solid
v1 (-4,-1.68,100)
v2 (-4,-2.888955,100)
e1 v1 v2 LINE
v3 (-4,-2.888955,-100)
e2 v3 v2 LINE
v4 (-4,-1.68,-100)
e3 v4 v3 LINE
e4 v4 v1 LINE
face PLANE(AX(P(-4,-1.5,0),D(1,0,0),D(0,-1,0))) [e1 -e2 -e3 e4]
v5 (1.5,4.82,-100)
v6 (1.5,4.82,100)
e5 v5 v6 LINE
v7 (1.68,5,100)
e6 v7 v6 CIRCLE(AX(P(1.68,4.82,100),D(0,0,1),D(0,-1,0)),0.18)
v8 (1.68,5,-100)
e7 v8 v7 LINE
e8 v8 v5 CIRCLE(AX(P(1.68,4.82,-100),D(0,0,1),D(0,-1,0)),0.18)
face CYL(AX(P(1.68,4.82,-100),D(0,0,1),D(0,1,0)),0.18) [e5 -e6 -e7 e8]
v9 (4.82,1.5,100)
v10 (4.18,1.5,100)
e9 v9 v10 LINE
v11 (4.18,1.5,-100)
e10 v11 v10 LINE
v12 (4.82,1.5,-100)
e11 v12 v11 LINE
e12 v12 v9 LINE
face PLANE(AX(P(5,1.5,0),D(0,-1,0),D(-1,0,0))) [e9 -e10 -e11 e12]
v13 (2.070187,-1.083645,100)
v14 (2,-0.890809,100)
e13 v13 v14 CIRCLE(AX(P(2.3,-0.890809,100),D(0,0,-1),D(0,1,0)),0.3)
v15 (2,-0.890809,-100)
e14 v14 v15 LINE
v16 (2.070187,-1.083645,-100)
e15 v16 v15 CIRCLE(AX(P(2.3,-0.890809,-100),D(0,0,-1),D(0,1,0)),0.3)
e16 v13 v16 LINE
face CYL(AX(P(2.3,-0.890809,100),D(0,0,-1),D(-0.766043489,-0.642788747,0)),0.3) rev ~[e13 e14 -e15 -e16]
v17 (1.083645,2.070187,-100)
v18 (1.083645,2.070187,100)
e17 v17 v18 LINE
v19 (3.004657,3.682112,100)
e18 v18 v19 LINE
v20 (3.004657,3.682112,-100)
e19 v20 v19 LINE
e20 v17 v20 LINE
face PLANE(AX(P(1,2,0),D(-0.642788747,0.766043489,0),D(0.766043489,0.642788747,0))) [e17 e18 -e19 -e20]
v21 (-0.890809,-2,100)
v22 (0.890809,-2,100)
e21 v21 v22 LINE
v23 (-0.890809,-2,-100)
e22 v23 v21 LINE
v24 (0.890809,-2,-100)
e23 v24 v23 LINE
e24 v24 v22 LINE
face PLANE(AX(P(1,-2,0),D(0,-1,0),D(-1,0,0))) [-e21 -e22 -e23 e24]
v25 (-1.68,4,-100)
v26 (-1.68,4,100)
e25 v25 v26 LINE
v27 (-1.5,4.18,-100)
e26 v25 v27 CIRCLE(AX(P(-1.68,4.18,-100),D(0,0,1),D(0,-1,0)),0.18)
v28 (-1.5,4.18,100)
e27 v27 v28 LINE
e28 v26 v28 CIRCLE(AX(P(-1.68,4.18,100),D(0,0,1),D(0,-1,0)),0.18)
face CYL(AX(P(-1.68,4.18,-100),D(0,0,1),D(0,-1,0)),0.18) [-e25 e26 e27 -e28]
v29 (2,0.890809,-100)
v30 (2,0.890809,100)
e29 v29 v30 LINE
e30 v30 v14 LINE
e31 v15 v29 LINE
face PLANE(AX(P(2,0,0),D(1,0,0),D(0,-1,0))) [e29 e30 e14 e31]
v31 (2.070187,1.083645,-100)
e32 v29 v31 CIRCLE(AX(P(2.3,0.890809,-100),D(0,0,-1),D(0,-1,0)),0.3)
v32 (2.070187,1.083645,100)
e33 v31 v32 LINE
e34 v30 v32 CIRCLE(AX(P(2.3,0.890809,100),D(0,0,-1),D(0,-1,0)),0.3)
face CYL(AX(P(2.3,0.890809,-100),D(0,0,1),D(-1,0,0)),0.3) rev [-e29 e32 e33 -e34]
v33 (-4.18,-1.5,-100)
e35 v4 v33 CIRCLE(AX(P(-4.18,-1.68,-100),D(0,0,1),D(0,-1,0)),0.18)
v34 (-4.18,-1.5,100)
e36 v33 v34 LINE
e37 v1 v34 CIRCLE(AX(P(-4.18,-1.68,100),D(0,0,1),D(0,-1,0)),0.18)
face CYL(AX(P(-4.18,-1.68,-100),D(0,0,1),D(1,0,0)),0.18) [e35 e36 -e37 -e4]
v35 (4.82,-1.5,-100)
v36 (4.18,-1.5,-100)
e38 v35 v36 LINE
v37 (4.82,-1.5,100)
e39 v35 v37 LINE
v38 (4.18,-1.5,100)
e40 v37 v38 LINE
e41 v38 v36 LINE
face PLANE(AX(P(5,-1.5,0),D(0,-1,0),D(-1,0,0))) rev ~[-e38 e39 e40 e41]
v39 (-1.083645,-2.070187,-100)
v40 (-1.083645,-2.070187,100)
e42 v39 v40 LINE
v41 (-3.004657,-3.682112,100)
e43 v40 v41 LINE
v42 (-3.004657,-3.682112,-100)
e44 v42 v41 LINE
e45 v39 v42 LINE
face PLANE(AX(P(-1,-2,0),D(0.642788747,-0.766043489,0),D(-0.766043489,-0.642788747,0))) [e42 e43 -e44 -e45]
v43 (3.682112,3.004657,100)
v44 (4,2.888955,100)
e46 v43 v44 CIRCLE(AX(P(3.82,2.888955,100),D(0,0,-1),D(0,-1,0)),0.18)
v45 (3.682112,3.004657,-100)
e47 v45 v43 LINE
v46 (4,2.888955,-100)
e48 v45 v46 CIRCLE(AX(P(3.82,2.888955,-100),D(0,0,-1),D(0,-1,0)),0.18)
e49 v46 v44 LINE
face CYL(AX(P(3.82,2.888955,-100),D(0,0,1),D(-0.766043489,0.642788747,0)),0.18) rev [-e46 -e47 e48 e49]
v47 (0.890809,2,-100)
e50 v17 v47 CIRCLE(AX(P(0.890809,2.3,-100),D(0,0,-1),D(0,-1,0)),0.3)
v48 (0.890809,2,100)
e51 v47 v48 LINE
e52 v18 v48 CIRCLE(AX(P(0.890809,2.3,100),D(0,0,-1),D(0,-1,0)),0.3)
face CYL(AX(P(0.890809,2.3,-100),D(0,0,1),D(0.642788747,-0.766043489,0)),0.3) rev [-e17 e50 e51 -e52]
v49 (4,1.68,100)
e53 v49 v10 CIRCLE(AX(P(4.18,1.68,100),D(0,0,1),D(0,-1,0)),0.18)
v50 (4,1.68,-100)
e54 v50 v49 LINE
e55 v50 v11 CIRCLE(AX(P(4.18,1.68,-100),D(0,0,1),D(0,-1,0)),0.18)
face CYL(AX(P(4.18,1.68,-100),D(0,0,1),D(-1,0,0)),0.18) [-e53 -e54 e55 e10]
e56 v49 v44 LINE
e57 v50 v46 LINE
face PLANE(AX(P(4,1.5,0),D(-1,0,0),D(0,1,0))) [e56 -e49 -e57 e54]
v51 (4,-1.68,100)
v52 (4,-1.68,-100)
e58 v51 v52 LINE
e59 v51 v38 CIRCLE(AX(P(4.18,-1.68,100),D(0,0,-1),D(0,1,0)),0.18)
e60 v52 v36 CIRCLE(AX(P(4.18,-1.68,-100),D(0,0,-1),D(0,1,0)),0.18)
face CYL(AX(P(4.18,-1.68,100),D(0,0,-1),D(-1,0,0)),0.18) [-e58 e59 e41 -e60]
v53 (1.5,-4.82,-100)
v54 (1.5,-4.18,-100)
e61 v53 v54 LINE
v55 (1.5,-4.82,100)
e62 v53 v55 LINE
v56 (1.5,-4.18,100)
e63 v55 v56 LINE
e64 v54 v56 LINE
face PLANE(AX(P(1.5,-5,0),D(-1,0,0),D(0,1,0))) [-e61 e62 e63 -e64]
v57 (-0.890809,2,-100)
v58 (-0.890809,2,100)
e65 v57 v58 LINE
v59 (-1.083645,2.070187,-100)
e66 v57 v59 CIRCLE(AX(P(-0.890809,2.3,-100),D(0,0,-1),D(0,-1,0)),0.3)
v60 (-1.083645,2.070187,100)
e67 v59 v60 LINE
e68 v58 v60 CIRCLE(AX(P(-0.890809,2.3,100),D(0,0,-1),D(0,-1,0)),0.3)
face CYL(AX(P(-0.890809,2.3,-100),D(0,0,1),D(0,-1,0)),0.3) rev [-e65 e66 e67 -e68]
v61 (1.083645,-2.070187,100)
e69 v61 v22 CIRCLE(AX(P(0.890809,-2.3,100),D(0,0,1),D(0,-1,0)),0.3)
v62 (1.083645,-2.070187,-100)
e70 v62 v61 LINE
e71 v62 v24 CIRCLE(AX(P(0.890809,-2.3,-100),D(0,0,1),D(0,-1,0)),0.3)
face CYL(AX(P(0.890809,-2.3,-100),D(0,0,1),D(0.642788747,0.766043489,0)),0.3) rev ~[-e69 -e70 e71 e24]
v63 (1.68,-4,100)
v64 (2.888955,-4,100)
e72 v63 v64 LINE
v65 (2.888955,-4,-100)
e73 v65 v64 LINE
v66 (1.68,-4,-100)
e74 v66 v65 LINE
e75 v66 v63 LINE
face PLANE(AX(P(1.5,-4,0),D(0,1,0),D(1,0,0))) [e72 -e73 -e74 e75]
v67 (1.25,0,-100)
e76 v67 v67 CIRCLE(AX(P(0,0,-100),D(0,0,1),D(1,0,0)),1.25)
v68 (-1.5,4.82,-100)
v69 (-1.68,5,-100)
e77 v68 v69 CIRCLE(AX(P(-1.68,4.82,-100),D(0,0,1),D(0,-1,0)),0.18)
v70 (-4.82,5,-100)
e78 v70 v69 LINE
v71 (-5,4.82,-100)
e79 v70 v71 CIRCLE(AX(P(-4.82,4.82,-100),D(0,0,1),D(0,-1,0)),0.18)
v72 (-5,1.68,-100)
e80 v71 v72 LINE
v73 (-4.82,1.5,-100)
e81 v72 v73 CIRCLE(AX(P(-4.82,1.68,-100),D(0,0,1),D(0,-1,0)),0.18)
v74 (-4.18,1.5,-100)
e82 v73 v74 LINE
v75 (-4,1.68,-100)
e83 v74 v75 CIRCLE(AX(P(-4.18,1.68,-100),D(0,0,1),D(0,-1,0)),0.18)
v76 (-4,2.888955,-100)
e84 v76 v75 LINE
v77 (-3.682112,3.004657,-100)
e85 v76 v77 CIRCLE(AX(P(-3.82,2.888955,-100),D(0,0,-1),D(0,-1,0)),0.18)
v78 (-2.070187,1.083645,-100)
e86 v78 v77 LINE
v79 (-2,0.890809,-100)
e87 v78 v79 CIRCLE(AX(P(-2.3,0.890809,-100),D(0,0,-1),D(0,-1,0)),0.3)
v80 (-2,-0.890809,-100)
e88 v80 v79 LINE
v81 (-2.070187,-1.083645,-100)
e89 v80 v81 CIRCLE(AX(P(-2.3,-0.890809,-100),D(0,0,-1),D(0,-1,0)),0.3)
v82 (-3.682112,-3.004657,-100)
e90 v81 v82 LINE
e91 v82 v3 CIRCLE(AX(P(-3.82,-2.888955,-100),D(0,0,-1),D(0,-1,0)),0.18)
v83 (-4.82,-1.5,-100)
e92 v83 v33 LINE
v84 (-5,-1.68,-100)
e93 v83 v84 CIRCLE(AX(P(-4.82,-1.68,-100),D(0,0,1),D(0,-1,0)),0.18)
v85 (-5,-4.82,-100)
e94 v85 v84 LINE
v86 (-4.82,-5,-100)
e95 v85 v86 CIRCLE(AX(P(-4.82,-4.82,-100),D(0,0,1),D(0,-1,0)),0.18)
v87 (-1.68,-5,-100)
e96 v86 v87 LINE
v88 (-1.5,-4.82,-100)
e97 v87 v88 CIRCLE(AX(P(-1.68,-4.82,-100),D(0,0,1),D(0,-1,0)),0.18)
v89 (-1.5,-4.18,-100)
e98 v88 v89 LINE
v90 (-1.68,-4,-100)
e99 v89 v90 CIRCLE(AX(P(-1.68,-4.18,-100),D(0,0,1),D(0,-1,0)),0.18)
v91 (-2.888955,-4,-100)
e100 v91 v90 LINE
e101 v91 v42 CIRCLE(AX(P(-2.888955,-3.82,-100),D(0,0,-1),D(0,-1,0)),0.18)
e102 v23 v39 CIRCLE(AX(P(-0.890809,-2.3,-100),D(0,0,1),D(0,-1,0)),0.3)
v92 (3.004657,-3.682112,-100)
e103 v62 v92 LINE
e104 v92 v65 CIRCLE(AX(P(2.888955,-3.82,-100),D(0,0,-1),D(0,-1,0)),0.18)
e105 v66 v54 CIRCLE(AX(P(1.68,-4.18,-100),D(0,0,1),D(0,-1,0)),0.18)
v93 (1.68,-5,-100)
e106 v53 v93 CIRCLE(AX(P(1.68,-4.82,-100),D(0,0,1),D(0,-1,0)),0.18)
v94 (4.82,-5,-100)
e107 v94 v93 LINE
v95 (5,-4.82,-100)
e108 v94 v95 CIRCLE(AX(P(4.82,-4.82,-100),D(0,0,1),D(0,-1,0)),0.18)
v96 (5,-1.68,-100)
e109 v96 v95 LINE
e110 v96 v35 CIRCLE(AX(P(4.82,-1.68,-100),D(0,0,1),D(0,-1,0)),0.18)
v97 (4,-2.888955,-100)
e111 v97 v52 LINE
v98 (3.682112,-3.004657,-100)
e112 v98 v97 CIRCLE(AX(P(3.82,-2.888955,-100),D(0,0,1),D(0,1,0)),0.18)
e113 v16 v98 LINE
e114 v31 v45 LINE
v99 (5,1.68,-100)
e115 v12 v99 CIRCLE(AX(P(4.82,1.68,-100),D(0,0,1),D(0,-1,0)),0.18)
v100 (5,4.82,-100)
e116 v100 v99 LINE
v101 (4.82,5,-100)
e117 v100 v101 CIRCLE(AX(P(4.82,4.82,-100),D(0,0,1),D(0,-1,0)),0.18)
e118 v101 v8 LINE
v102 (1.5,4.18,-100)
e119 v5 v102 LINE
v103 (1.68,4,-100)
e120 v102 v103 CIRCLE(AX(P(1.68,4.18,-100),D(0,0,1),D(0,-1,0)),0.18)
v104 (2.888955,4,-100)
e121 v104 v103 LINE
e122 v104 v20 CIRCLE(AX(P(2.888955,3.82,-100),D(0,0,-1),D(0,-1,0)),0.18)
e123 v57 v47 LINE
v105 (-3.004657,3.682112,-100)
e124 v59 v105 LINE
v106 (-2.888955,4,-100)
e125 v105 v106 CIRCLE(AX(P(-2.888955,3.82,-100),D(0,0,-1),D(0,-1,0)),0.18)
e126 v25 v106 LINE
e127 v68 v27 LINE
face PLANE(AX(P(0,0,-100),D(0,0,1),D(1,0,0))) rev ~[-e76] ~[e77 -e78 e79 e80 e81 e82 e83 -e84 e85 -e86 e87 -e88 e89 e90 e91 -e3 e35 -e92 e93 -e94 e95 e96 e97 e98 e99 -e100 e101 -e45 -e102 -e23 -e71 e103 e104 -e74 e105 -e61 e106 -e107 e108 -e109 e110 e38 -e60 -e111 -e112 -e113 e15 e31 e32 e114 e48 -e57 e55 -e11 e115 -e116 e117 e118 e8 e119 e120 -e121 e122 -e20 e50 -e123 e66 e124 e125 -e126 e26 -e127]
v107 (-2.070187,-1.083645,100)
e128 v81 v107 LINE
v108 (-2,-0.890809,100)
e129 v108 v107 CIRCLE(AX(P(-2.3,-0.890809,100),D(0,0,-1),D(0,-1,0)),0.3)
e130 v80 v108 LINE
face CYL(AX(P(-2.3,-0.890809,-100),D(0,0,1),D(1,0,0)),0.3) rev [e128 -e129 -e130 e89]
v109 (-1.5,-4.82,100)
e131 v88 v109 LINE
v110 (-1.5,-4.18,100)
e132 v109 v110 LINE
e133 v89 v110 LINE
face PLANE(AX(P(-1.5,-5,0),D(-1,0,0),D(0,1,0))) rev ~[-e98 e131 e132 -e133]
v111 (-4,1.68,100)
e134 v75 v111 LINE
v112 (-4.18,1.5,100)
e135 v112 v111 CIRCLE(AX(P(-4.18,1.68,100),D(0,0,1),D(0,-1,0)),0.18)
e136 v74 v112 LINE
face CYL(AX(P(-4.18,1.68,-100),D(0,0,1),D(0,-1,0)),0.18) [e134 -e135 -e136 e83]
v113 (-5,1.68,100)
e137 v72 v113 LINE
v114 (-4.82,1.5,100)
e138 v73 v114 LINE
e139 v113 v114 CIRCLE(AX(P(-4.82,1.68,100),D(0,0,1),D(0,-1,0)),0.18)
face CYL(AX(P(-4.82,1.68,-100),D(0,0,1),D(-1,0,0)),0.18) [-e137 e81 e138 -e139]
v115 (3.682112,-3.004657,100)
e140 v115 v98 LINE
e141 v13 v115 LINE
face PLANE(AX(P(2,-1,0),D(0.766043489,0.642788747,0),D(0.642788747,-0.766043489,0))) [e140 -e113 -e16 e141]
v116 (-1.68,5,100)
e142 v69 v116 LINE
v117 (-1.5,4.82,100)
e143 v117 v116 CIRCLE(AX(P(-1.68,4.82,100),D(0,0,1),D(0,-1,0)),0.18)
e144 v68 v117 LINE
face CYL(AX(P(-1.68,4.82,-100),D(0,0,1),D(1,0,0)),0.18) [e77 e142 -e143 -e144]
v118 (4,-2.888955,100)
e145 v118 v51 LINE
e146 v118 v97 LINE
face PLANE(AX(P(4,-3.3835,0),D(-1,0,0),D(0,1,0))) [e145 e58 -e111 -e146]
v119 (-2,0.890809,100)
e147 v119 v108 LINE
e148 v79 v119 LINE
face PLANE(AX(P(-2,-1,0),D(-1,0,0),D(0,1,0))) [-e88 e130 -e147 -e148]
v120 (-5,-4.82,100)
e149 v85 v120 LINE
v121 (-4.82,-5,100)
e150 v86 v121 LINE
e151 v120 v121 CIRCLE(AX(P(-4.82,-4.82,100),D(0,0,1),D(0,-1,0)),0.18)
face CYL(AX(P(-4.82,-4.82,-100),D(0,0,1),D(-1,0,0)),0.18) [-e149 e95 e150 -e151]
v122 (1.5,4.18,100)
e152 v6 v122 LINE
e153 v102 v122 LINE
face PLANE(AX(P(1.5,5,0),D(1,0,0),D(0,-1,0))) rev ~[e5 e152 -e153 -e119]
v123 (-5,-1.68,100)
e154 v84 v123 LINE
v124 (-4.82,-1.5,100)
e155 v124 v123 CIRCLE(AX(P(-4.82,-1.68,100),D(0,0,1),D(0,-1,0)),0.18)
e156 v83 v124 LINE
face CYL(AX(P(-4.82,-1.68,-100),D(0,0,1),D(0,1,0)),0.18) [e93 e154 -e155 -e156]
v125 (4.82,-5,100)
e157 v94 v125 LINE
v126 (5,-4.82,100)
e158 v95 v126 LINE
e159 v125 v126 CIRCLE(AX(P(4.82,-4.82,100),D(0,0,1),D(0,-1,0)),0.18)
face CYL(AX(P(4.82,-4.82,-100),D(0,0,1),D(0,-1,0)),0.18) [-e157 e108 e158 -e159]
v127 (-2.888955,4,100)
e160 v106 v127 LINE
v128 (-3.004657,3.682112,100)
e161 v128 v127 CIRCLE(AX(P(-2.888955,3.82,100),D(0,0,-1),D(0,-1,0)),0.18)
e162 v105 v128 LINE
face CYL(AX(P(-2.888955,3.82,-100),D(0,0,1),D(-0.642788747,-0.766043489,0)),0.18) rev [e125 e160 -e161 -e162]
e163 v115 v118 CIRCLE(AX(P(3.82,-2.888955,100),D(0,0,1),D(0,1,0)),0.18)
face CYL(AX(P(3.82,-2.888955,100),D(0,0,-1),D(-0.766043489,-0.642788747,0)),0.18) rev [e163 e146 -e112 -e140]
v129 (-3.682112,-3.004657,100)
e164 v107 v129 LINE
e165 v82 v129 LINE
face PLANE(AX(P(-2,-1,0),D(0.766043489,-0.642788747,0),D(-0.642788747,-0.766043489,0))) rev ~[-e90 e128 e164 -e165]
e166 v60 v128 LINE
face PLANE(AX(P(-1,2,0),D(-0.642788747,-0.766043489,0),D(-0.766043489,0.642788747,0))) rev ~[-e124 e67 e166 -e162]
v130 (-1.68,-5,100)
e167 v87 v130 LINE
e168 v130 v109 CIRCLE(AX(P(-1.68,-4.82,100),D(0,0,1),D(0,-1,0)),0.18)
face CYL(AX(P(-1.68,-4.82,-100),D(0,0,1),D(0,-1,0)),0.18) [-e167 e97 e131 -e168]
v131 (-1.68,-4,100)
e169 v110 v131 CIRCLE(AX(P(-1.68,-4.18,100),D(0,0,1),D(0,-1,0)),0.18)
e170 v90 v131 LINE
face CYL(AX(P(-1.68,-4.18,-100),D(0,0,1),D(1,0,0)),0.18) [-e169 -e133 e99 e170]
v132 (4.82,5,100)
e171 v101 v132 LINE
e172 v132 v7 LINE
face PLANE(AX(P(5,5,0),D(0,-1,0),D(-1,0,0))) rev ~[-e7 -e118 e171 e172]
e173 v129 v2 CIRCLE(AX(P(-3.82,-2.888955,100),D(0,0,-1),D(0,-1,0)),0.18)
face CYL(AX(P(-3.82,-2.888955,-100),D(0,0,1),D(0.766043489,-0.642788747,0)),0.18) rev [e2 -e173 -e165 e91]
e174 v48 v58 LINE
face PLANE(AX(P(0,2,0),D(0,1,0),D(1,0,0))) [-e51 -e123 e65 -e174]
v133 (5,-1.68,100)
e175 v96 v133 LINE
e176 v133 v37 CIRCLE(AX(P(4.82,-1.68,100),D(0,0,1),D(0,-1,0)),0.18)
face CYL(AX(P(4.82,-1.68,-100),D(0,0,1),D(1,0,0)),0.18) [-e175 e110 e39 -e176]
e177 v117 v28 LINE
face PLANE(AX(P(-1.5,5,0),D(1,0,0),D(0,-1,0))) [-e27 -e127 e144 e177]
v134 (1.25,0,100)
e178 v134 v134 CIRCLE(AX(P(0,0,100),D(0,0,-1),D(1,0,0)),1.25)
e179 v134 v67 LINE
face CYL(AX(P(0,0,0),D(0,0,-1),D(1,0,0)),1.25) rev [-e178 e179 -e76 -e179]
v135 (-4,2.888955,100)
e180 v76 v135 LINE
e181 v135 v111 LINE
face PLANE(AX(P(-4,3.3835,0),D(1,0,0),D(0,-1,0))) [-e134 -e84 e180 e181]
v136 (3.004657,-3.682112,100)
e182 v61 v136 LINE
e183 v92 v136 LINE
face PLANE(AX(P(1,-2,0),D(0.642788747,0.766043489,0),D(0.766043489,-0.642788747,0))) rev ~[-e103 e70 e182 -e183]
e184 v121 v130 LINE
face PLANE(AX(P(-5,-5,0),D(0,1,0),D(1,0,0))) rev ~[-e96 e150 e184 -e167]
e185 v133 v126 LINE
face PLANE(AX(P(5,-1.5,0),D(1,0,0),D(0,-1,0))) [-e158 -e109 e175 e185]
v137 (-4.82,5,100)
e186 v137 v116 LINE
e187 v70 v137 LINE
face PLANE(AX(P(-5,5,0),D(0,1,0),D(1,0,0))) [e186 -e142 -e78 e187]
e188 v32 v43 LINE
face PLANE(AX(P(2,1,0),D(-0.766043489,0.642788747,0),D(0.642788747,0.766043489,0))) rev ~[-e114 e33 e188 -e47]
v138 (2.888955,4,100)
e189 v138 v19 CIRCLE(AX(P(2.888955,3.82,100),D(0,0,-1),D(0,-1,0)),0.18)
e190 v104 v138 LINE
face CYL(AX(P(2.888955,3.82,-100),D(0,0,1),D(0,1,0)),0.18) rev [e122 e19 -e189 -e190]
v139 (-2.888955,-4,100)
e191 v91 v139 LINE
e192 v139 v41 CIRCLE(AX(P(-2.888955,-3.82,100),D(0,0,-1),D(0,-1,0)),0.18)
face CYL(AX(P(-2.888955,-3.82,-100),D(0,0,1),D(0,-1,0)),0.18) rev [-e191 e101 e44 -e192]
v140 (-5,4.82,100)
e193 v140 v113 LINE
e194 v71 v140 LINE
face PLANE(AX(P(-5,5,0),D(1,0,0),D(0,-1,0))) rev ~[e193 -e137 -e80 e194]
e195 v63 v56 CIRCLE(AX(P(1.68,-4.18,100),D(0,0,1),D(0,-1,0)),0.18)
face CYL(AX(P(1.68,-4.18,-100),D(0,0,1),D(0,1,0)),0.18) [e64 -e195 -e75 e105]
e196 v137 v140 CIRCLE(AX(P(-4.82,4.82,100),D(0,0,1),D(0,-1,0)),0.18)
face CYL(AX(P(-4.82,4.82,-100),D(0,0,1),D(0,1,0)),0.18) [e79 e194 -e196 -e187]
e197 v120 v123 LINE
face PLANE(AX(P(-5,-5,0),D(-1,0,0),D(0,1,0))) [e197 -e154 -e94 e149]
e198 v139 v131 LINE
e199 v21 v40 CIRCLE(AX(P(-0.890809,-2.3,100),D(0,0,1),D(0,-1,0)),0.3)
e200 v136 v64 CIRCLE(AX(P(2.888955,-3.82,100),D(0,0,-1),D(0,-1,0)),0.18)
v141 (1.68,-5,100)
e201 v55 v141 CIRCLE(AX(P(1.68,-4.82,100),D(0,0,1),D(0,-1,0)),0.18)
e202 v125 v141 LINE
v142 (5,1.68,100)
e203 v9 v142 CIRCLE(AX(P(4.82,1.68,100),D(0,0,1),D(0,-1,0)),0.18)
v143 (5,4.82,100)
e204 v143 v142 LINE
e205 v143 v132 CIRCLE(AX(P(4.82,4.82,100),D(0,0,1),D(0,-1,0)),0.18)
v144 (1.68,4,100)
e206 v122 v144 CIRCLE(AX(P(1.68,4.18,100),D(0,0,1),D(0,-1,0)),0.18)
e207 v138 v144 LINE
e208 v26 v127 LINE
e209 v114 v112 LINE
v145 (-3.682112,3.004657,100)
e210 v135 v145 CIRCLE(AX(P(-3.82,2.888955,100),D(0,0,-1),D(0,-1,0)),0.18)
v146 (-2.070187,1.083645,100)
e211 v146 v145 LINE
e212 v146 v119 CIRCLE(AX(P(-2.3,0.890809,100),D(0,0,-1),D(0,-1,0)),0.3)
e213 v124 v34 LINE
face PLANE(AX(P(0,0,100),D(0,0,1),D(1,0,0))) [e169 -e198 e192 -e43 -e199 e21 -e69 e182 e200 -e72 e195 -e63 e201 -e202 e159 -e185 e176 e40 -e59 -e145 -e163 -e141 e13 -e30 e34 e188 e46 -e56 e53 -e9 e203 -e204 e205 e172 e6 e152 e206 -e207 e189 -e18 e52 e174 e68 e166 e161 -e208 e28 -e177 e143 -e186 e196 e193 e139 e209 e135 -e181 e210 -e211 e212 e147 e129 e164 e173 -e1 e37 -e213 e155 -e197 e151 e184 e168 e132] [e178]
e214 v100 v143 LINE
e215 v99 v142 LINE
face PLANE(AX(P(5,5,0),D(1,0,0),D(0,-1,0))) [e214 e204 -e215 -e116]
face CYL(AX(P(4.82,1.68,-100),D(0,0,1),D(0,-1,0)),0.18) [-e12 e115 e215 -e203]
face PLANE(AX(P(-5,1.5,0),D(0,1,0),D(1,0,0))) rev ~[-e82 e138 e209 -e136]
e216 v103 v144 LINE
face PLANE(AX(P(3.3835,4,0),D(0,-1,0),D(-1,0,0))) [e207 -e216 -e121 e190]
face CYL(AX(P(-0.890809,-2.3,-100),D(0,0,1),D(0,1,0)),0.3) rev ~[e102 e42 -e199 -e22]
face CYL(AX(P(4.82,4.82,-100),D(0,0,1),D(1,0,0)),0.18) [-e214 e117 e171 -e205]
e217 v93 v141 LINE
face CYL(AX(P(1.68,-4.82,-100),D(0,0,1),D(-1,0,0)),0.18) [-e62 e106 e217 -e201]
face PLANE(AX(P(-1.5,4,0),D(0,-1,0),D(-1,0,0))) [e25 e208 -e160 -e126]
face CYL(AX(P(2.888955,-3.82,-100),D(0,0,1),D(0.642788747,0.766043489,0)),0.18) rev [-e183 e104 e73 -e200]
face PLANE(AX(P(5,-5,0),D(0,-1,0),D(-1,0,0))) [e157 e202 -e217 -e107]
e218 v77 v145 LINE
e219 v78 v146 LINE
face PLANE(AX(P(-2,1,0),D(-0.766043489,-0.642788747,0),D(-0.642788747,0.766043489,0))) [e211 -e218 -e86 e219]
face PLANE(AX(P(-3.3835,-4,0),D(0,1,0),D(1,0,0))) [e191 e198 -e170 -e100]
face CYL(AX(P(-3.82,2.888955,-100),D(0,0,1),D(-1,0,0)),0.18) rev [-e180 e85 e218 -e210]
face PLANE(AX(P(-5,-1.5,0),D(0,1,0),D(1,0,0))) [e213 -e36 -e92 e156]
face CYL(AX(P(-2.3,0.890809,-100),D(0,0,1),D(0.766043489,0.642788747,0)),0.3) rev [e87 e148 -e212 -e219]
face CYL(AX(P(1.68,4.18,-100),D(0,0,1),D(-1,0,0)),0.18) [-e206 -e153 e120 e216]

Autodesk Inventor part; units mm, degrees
ref_plane "YZ Plane" through (0, 0, 0) normal (1, 0, 0) x (0, 1, 0)
ref_plane "XZ Plane" through (0, 0, 0) normal (0, 1, 0) x (-1, 0, 0)
ref_plane "XY Plane" through (0, 0, 0) normal (0, 0, 1) x (1, 0, 0)
sketch "Sketch1" plane through (0, 0, 0) normal (0, 0, 1) x (1, 0, 0)
  circle A0 centre (0, 0) radius 1.25
  line L0 (0, -7) -> (0, 7) projected
  line L1 (-7.0223, 0) -> (7.1337, 0) projected
  line L2 (5, 5) -> (1.5, 5)
  line L3 (1.5, 5) -> (1.5, 4)
  line L4 (5, 5) -> (5, 1.5)
  line L5 (-1, 2) -> (1, 2)
  line L6 (2, 1) -> (2, -1)
  line L7 (1, -2) -> (-1, -2)
  line L8 (-2, -1) -> (-2, 1)
  line L9 (1, 2) -> (3.3835, 4)
  line L10 (2, 2) -> (4.1114, 2) construction
  line L11 (3.3835, 4) -> (1.5, 4)
  line L12 (2, 1) -> (4, 3.3835)
  line L13 (2, 1) -> (5.1114, 1) construction
  line L14 (5, 1.5) -> (4, 1.5)
  line L15 (4, 1.5) -> (4, 3.3835)
  line L16 (5, 5) -> (5, 1.5)
  line L17 (-5, 5) -> (-1.5, 5)
  line L18 (1.5, 5) -> (5, 5)
  line L19 (5, 5) -> (5, 1.5)
  line L20 (5, 0) -> (5, -5)
  line L21 (-2, 1) -> (-4, 3.3835)
  line L22 (-4, 3.3835) -> (-4, 1.5)
  line L23 (-5, 1.5) -> (-4, 1.5)
  line L24 (-5, 5) -> (-5, 1.5)
  line L25 (-5, 5) -> (-1.5, 5)
  line L26 (-1.5, 5) -> (-1.5, 4)
  line L27 (-1.5, 4) -> (-3.3835, 4)
  line L28 (-1, 2) -> (-3.3835, 4)
  line L29 (-1, -2) -> (-3.3835, -4)
  line L30 (-3.3835, -4) -> (-1.5, -4)
  line L31 (-1.5, -5) -> (-1.5, -4)
  line L32 (-5, -5) -> (-1.5, -5)
  line L33 (-5, -5) -> (-5, -1.5)
  line L34 (-5, -1.5) -> (-4, -1.5)
  line L35 (-4, -1.5) -> (-4, -3.3835)
  line L36 (-2, -1) -> (-4, -3.3835)
  line L37 (2, -1) -> (4, -3.3835)
  line L38 (4, -3.3835) -> (4, -1.5)
  line L39 (5, -1.5) -> (4, -1.5)
  line L40 (5, -5) -> (5, -1.5)
  line L41 (5, -5) -> (1.5, -5)
  line L42 (1.5, -5) -> (1.5, -4)
  line L43 (1.5, -4) -> (3.3835, -4)
  line L44 (1, -2) -> (3.3835, -4)
  line L45 (-5, -5) -> (-5, -1.5)
  line L46 (-5, 1.5) -> (-5, 5)
  line L47 (5, -5) -> (1.5, -5)
  line L48 (-1.5, -5) -> (-5, -5)
  dimension "d0" = 2.5
  dimension "d3" = 3.5
  dimension "d4" = 1
  dimension "d5" = 90
  dimension "d6" = 3.5
  dimension "d10" = 2
  dimension "d11" = 40
  dimension "d13" = 50
  dimension "d14" = 1
  dimension "d17" = 360
  dimension "d19" = 3.1115
extrude "Extrusion1" add sketch "Sketch1" along normal mid plane 200 contours L1 L6 L37 L38 L39 L20 L41 L42 L43 L44 L7 L0 A0 | A0 L0 L5 L9 L11 L3 L2 L4 L14 L15 L12 L6 L1 | A0 L1 L8 L21 L22 L23 L24 L17 L26 L27 L28 L5 L0 | L0 L7 L29 L30 L31 L32 L33 L34 L35 L36 L8 L1 A0
fillet "Fillet1" radius 0.18 28 edges at (-5, 5, 0) (-5, 1.5, 0) (-1.5, 5, 0) (-1.5, 4, 0) (-4, 1.5, 0) (-3.3835, 4, 0) (-4, 3.3835, 0) (1.5, 5, 0) (5, 5, 0) (3.3835, 4, 0) (4, 3.3835, 0) (4, 1.5, 0) (5, 1.5, 0) (1.5, 4, 0) (4, -1.5, 0) (5, -1.5, 0) (5, -5, 0) (4, -3.3835, 0) (3.3835, -4, 0) (1.5, -4, 0) (1.5, -5, 0) (-3.3835, -4, 0) (-4, -3.3835, 0) (-4, -1.5, 0) (-5, -1.5, 0) (-5, -5, 0) (-1.5, -5, 0) (-1.5, -4, 0)
fillet "Fillet2" radius 0.3 8 edges at (-1, 2, 0) (1, 2, 0) (2, 1, 0) (2, -1, 0) (1, -2, 0) (-1, -2, 0) (-2, -1, 0) (-2, 1, 0)
thread "Thread1" size "M3x0.5" class "6H" standard "ANSI Metric M Profile" length 8
thread "Thread2" size "M3x0.5" class "6H" standard "ANSI Metric M Profile" length 8
properties part number "Beam_20mm"
